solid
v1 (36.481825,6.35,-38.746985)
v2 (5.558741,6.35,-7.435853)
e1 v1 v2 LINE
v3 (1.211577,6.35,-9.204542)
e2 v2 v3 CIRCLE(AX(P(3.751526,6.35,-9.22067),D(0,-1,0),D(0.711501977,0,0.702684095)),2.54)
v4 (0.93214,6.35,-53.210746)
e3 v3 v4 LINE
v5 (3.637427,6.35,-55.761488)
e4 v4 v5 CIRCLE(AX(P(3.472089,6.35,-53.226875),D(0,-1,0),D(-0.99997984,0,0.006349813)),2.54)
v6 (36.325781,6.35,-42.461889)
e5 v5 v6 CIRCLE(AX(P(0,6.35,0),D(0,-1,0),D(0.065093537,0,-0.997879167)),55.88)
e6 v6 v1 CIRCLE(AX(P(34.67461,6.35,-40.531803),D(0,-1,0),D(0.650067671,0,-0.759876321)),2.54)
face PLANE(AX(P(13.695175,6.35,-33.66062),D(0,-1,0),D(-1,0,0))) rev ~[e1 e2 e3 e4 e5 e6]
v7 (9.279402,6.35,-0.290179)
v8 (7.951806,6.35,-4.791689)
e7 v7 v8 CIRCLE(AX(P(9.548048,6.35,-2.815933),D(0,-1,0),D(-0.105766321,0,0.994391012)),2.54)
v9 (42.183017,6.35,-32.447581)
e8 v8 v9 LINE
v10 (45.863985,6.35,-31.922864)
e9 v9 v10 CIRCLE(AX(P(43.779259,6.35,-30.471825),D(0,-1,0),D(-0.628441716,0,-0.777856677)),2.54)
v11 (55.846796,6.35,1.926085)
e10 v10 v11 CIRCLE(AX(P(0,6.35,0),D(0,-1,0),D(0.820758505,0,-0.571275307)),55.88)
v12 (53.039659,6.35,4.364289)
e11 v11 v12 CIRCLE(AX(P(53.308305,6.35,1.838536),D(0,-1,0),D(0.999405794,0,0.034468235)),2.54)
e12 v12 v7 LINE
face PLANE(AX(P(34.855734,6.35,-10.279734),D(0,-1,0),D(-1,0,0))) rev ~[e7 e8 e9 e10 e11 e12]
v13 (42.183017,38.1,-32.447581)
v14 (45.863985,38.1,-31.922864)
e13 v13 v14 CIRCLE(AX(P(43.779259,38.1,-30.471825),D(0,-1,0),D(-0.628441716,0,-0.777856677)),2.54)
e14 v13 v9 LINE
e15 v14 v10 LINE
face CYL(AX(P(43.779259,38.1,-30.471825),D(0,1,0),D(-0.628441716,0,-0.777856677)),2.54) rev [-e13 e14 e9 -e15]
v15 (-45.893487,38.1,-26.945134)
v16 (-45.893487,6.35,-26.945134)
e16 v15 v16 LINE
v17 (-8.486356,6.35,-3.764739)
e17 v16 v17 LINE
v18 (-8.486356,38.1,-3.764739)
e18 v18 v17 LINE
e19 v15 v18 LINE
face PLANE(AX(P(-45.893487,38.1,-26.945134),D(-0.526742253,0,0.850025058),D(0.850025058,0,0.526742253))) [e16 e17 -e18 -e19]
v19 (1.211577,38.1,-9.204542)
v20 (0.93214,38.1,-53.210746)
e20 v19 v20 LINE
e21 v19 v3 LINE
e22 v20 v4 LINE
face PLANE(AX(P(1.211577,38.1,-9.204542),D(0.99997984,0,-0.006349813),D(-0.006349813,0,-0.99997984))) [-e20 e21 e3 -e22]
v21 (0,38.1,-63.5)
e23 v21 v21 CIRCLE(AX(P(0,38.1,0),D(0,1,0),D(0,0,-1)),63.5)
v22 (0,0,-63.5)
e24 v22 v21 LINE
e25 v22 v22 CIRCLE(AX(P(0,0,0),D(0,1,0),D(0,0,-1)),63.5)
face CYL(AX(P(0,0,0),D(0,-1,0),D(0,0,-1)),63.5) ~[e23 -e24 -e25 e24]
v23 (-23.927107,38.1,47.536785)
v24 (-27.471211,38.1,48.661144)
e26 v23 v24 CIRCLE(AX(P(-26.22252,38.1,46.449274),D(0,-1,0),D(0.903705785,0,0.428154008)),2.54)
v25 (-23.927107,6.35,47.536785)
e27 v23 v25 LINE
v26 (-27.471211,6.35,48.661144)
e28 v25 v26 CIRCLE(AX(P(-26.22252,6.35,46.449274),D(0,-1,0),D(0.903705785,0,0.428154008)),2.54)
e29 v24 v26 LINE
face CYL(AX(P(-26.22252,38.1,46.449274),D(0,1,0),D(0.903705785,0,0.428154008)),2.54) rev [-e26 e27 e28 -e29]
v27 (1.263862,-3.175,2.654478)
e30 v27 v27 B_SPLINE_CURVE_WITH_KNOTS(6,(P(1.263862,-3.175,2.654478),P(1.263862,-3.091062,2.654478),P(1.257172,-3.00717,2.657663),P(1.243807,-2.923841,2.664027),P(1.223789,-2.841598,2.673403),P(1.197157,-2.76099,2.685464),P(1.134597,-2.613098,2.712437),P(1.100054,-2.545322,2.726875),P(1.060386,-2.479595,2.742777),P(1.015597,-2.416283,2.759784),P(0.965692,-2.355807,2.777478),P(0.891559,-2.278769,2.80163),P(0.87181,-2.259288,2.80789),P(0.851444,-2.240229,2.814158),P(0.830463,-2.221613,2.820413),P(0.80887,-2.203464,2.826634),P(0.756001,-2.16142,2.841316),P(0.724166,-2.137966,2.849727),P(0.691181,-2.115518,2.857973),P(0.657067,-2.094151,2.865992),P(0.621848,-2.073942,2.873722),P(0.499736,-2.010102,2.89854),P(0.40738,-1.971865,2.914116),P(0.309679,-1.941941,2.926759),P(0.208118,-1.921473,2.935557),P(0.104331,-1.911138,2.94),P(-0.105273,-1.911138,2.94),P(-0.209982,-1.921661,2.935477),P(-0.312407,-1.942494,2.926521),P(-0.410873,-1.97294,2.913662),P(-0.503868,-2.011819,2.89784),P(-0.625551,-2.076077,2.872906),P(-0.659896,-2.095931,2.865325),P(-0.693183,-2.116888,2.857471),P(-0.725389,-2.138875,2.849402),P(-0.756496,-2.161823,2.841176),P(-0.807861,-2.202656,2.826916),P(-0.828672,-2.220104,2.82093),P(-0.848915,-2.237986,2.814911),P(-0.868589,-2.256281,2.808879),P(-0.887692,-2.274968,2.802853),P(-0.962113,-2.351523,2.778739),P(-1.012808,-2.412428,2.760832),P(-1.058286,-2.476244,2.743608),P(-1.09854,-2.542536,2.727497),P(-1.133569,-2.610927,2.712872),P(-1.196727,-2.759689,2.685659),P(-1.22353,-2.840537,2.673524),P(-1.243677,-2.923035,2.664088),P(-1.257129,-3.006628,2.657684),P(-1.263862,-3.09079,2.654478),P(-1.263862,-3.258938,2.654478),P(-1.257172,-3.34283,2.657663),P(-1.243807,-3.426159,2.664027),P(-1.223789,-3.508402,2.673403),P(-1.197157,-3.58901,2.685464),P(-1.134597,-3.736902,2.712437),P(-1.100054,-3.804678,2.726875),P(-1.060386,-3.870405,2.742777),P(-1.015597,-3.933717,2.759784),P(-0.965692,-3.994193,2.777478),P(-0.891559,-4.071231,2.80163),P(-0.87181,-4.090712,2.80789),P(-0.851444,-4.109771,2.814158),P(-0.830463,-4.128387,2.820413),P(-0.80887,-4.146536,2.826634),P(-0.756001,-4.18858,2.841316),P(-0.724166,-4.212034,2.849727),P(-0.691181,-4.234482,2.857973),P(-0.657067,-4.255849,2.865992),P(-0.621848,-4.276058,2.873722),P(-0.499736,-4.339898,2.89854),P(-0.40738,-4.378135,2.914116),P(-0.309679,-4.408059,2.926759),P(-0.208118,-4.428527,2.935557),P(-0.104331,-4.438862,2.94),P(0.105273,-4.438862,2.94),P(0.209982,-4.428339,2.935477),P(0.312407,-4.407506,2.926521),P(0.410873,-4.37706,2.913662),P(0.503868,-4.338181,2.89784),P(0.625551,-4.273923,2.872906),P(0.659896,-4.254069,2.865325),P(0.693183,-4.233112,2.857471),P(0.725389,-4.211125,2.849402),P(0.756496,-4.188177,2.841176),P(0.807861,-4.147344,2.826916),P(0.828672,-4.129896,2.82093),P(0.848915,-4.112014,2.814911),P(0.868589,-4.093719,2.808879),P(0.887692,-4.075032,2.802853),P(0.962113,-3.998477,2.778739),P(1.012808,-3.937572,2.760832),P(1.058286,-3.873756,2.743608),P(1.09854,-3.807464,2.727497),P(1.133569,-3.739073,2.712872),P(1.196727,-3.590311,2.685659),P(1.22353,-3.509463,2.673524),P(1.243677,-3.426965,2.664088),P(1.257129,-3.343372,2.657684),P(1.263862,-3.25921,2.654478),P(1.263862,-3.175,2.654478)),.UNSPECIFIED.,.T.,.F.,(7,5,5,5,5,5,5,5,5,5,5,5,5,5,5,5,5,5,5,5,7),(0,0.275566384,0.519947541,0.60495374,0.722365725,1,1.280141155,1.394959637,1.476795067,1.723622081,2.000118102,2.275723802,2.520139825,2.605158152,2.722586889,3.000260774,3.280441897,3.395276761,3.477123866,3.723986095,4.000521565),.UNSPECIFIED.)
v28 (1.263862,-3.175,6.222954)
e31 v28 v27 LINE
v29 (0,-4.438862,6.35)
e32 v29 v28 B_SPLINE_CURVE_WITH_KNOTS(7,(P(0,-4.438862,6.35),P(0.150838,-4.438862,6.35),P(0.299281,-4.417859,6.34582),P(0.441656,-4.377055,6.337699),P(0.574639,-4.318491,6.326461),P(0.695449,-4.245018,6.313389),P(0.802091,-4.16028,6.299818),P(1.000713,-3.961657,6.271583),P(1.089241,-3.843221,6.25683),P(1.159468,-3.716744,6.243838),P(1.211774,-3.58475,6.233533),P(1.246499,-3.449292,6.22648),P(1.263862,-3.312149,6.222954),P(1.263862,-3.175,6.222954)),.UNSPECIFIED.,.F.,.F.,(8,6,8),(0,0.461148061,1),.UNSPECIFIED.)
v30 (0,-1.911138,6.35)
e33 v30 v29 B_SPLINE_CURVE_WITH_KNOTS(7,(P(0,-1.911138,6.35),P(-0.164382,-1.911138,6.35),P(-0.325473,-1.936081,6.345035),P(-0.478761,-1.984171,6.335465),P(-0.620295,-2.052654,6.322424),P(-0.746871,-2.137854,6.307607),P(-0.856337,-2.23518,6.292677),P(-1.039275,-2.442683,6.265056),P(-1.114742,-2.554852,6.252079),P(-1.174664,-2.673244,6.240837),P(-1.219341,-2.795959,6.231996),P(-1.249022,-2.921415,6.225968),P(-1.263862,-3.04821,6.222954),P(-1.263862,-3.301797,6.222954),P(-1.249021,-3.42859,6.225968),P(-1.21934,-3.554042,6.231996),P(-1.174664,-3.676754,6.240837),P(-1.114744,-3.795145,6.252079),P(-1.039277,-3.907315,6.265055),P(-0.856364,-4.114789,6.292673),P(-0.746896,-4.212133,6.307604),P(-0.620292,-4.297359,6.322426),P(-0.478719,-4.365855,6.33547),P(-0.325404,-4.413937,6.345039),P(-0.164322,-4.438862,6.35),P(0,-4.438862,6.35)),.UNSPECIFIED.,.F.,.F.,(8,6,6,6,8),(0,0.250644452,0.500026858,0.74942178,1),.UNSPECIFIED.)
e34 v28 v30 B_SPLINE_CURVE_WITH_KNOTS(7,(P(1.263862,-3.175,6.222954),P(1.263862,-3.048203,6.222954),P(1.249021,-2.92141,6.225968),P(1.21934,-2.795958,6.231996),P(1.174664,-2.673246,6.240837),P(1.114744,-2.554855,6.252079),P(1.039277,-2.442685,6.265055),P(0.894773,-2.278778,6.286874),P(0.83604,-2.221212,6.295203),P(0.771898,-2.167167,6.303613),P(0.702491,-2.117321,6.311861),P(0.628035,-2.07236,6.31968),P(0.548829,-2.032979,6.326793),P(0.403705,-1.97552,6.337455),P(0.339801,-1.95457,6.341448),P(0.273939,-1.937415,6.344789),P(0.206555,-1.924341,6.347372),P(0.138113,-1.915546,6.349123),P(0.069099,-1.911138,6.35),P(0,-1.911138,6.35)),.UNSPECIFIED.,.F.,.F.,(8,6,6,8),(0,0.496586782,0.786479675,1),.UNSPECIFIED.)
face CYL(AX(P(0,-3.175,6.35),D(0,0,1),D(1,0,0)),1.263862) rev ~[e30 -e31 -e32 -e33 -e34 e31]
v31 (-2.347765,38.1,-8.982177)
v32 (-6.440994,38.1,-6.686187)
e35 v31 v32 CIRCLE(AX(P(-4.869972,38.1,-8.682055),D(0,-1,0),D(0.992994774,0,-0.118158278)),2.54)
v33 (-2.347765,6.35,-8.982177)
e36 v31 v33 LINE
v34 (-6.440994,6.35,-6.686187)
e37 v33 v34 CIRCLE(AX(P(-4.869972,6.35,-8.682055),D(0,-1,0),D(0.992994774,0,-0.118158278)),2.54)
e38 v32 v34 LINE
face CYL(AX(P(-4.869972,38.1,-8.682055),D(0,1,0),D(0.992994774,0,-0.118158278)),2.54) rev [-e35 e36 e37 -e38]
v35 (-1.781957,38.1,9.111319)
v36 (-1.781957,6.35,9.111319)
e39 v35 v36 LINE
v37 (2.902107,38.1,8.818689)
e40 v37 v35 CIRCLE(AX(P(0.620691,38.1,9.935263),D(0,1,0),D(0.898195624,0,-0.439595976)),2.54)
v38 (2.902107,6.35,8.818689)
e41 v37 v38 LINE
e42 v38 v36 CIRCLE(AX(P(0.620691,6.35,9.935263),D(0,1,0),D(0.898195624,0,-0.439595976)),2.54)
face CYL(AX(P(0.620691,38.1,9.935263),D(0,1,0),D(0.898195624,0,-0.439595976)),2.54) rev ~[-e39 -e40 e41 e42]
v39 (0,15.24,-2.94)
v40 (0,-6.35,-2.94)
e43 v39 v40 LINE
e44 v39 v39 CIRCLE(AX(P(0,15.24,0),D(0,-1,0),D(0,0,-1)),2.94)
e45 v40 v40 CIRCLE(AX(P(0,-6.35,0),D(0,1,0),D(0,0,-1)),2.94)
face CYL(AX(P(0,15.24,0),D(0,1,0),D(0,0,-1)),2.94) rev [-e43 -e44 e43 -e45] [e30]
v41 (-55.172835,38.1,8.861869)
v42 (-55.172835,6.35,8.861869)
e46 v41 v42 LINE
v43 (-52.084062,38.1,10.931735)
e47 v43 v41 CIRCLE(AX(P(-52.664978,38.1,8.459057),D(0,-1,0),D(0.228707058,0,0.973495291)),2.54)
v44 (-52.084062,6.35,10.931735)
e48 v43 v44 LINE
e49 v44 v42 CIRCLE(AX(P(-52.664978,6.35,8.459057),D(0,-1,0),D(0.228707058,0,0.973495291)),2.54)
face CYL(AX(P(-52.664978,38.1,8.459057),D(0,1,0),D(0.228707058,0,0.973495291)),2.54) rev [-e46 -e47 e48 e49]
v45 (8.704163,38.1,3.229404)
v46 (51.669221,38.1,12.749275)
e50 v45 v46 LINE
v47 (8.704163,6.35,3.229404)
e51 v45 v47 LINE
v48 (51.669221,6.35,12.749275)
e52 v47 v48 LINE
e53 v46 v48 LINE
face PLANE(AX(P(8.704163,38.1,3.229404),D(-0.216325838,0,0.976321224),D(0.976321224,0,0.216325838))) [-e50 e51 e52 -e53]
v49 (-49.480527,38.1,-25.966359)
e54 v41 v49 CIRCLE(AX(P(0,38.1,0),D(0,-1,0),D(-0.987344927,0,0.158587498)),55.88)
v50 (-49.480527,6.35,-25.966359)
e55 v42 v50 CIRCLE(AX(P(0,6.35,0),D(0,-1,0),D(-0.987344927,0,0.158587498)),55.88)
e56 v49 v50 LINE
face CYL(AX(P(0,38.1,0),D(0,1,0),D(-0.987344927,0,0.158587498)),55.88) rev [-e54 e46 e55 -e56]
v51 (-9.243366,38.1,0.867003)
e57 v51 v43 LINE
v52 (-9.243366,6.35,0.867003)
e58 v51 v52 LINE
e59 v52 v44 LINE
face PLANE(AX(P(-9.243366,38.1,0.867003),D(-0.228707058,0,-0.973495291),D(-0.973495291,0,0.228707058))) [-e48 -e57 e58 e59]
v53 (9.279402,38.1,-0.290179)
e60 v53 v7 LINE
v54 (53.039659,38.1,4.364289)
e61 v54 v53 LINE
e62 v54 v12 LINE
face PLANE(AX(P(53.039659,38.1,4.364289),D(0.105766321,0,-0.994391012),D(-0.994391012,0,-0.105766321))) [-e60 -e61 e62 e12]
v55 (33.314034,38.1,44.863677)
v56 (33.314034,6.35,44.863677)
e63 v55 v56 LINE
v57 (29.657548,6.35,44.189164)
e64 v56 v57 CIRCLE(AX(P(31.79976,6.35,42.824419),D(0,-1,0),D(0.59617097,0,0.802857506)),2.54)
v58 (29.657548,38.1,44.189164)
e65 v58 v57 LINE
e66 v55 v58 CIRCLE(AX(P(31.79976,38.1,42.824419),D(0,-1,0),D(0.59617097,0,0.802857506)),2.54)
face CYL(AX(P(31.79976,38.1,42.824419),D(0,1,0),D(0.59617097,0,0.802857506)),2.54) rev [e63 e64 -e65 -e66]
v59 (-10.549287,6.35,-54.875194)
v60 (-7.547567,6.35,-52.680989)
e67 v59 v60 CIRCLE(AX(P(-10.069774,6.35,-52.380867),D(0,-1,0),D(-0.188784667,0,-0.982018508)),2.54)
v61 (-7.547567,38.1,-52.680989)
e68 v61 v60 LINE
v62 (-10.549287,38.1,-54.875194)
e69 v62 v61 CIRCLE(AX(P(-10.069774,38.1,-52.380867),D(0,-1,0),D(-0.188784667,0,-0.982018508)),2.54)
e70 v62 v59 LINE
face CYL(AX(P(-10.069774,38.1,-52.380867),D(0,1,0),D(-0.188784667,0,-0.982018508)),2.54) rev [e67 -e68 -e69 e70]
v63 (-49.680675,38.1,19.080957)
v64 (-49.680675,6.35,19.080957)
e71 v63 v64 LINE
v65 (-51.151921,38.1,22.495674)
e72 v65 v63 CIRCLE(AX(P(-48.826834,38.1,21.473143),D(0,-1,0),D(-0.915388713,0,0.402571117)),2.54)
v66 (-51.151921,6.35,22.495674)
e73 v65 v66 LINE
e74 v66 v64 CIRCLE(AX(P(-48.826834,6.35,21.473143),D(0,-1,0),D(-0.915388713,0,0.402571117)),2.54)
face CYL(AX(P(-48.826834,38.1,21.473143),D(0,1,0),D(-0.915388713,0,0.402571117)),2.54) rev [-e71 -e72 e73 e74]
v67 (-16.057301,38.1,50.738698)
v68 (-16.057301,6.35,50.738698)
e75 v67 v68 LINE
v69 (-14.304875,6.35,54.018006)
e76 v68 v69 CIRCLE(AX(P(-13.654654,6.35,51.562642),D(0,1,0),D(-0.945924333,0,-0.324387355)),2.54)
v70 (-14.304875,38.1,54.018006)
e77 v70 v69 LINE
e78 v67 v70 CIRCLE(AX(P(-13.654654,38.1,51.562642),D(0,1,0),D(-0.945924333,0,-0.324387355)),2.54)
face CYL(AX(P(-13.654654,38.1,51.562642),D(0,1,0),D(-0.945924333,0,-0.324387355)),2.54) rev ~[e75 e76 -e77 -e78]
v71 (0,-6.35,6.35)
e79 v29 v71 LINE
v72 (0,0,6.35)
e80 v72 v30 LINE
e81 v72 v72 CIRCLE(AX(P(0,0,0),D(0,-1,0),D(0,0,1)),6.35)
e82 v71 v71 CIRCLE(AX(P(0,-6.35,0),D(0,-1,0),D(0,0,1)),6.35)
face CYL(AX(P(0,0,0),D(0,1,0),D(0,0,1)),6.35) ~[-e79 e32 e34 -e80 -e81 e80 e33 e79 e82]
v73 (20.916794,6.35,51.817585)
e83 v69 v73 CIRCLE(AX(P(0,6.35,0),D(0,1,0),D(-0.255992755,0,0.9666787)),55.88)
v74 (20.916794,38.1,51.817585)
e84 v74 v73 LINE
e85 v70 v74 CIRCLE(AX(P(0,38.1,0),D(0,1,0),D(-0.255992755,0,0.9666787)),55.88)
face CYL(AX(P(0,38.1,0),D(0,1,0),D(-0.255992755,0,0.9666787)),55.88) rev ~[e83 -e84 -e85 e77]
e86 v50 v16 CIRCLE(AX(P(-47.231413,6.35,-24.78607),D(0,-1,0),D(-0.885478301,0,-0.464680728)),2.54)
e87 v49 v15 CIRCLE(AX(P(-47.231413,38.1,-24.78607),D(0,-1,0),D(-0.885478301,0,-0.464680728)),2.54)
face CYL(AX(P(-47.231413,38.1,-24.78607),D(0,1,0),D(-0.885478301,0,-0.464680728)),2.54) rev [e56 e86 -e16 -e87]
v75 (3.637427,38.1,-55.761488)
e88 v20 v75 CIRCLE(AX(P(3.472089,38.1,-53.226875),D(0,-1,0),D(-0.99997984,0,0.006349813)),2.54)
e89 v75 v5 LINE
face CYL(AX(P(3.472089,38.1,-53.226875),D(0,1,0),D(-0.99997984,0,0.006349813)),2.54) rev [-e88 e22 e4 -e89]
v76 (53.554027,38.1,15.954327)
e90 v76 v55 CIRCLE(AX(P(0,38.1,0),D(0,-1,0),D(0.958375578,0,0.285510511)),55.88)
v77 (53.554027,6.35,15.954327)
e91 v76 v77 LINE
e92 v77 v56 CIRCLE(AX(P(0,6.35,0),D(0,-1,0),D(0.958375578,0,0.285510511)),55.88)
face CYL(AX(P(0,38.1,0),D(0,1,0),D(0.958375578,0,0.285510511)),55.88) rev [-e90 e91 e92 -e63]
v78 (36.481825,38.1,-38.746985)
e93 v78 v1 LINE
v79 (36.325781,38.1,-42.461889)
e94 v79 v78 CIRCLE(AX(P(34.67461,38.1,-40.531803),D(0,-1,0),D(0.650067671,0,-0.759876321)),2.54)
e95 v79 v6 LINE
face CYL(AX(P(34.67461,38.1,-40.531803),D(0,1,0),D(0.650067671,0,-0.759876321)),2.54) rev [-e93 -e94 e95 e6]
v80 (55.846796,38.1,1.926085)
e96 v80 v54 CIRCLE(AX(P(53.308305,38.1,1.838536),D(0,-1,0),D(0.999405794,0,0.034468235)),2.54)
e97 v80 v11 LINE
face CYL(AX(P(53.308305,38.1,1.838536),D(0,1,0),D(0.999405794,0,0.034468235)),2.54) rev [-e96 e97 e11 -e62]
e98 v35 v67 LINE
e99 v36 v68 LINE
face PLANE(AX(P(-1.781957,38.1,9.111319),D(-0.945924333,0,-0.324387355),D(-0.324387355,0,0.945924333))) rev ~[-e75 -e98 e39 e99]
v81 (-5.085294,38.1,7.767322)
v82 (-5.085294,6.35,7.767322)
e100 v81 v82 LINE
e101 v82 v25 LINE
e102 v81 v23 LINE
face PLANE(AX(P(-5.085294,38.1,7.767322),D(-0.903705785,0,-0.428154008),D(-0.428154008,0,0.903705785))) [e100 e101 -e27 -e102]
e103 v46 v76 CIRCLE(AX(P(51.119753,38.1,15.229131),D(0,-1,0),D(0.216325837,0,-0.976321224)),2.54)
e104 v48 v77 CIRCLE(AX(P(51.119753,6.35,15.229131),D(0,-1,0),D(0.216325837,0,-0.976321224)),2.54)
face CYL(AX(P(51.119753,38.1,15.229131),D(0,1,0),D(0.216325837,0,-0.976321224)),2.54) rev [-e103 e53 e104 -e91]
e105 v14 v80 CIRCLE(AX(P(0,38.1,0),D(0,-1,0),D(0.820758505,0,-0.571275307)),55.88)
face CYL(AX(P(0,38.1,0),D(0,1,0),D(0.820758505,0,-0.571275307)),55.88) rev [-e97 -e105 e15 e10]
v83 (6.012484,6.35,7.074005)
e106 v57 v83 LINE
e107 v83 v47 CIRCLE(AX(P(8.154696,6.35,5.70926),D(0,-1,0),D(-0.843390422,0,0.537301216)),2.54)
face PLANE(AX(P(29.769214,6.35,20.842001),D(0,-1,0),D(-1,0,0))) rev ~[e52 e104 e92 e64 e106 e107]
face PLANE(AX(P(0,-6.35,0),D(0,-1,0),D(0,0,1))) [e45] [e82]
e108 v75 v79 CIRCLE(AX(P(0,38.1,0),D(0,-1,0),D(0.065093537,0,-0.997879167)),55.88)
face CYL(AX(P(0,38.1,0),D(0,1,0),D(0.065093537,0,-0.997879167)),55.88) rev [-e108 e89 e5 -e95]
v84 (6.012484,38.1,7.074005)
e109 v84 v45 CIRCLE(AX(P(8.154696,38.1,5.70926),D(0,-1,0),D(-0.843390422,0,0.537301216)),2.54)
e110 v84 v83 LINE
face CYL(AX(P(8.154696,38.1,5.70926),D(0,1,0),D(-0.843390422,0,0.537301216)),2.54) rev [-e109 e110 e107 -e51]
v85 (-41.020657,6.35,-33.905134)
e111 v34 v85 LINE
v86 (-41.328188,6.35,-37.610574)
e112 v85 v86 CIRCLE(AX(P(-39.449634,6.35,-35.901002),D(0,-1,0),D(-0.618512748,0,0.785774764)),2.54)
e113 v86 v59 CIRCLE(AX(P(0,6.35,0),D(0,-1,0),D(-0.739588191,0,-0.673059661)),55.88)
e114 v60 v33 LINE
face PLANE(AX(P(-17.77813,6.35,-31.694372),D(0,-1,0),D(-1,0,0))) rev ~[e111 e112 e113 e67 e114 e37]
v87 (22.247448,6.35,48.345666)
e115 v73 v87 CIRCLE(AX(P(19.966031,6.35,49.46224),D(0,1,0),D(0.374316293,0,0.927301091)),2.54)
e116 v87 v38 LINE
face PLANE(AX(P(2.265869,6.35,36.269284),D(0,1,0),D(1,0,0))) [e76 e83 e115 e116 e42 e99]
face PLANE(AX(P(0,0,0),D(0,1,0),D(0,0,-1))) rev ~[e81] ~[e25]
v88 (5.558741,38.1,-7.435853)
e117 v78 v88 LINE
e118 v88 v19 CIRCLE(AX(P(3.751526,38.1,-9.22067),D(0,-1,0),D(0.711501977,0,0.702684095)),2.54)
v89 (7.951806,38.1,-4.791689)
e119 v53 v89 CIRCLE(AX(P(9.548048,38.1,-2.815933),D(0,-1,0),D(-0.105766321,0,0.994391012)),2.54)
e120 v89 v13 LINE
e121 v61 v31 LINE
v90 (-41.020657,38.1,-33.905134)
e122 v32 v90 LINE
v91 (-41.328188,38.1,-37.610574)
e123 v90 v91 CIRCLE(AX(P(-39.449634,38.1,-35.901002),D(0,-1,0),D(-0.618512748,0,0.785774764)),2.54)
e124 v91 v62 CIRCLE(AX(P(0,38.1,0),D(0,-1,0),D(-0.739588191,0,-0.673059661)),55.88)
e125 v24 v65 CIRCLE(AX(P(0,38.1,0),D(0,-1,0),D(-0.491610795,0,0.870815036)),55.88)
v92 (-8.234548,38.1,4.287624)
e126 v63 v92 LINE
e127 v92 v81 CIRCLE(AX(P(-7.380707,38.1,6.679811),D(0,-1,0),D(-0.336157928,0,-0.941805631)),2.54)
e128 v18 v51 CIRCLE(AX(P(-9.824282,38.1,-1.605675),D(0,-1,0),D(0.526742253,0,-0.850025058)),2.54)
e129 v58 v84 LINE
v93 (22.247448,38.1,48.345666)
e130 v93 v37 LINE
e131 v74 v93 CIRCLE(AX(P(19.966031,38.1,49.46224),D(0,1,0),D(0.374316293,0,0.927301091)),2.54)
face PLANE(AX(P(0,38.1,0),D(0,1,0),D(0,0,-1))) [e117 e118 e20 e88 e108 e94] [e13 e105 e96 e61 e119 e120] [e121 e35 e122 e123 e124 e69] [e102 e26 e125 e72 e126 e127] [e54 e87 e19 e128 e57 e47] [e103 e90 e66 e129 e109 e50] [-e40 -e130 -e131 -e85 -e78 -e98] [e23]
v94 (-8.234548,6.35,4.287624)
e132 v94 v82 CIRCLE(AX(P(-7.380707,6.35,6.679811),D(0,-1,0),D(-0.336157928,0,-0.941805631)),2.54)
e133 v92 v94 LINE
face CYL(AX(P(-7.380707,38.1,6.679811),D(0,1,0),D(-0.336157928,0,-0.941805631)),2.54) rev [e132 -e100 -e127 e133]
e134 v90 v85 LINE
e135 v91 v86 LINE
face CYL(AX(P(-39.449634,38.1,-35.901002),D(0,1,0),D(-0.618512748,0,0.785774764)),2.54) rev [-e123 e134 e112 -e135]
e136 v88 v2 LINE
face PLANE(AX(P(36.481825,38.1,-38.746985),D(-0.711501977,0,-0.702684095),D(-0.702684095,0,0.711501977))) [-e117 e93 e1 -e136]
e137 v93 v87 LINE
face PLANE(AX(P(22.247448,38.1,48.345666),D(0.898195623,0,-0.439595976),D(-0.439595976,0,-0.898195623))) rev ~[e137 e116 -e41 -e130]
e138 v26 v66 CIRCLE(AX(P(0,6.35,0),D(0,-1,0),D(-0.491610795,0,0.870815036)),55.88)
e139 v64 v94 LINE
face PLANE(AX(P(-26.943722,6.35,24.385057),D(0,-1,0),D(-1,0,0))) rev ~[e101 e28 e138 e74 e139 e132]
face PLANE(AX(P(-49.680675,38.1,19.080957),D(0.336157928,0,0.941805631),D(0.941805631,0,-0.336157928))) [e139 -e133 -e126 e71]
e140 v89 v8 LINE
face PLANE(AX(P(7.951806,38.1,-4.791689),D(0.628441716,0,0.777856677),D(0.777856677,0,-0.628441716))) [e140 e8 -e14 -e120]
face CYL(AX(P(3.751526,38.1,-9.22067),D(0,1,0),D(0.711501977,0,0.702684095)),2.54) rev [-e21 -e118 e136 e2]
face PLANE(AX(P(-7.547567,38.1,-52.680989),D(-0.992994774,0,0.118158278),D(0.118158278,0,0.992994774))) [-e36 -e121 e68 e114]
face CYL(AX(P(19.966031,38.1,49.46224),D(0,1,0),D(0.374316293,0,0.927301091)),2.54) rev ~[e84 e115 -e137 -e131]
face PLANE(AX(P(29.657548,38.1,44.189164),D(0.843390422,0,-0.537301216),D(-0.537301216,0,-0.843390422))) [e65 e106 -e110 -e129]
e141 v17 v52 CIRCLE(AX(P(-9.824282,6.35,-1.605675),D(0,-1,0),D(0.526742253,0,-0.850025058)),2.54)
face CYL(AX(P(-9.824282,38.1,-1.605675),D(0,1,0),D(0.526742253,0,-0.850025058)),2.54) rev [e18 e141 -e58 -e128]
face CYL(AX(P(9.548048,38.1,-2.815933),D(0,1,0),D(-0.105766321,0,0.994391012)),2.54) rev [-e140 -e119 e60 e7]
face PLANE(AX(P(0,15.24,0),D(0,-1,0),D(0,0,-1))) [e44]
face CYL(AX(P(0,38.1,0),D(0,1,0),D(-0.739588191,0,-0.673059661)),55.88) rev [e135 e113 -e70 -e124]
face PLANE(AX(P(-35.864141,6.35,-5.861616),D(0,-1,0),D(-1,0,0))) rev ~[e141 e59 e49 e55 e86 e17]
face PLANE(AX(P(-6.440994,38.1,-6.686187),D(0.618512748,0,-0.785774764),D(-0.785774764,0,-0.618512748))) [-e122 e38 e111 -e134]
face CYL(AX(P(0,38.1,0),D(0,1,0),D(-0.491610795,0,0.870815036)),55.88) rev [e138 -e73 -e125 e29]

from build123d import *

# Parameters (mm, degrees)
SKETCH1_R               = 63.5
BOSS_EXTRUDE1_DEPTH     = 38.1
CUT_EXTRUDE2_DEPTH      = 31.75
SKETCH4_R               = 6.35
BOSS_EXTRUDE2_DEPTH     = 6.35
CUT_EXTRUDE3_DEPTH      = 98.550550998
CUT_EXTRUDE3_DEPTH_BACK = 15.24
SKETCH3_R               = 2.94
CUT_EXTRUDE4_REACH      = 103.798
CUT_EXTRUDE4_END_RADIUS = 2.94
SKETCH5_R               = 1.263861724


with BuildPart() as part:
    # Sketch1 → Boss-Extrude1 (new body)
    with BuildSketch(Plane(origin=(0, 0, 0), x_dir=(1, 0, 0), z_dir=(0, 1, 0))):
        with Locations(Location((0, 0, 0), (0, 0, 90))):
            Circle(SKETCH1_R)
    extrude(amount=BOSS_EXTRUDE1_DEPTH)

    # Sketch2 → Cut-Extrude2 (cut)
    with BuildSketch(Plane(origin=(0, 38.1, 0), x_dir=(1, 0, 0), z_dir=(0, 1, 0))):
        with BuildLine():
            Line((-1.7819572, -9.111319007), (-16.057301334, -50.738697991))
            ThreePointArc((-16.057301334, -50.738697991), (-15.89484722, -52.75977688), (-14.304875125, -54.018005773))
            ThreePointArc((-14.304875125, -54.018005773), (3.484226214, -55.771270092), (20.916794468, -51.817584942))
            ThreePointArc((20.916794468, -51.817584942), (22.337802979, -50.371249564), (22.247447967, -48.345666393))
            Line((22.247447967, -48.345666393), (2.902107489, -8.818689111))
            ThreePointArc((2.902107489, -8.818689111), (0.462316687, -7.400205158), (-1.7819572, -9.111319007))
        make_face()
        with BuildLine():
            Line((8.704163204, -3.229403726), (51.669220951, -12.749274735))
            ThreePointArc((51.669220951, -12.749274735), (53.309221074, -13.941562792), (53.554027291, -15.954327341))
            ThreePointArc((53.554027291, -15.954327341), (45.776114287, -32.048740393), (33.314033776, -44.863677441))
            ThreePointArc((33.314033776, -44.863677441), (31.338979429, -45.322274799), (29.657547842, -44.189164464))
            Line((29.657547842, -44.189164464), (6.012483905, -7.074004722))
            ThreePointArc((6.012483905, -7.074004722), (6.073963109, -4.252498707), (8.704163204, -3.229403726))
        make_face()
        with BuildLine():
            Line((7.951806494, 4.791688532), (42.1830167, 32.447580836))
            ThreePointArc((42.1830167, 32.447580836), (44.13770839, 32.986405118), (45.863985261, 31.922864157))
            ThreePointArc((45.863985261, 31.922864157), (53.597654639, 15.807144497), (55.846795761, -1.926084944))
            ThreePointArc((55.846795761, -1.926084944), (54.973915369, -3.756175388), (53.039658589, -4.3642888))
            Line((53.039658589, -4.3642888), (9.279401997, 0.290179402))
            ThreePointArc((9.279401997, 0.290179402), (7.111791423, 2.097426005), (7.951806494, 4.791688532))
        make_face()
        with BuildLine():
            Line((1.211577307, 9.204541593), (0.932140496, 53.210746228))
            ThreePointArc((0.932140496, 53.210746228), (1.729601044, 55.074937175), (3.637426875, 55.761487836))
            ThreePointArc((3.637426875, 55.761487836), (21.059067856, 51.759927174), (36.325781471, 42.461888801))
            ThreePointArc((36.325781471, 42.461888801), (37.212371773, 40.638400701), (36.481824607, 38.746985345))
            Line((36.481824607, 38.746985345), (5.55874112, 7.435852518))
            ThreePointArc((5.55874112, 7.435852518), (2.794295742, 6.867946156), (1.211577307, 9.204541593))
        make_face()
        with BuildLine():
            Line((-6.440994304, 6.686187096), (-41.020656513, 33.905134408))
            ThreePointArc((-41.020656513, 33.905134408), (-41.980931166, 35.690918215), (-41.328188139, 37.610573848))
            ThreePointArc((-41.328188139, 37.610573848), (-27.33742655, 48.736428979), (-10.549287178, 54.875194214))
            ThreePointArc((-10.549287178, 54.875194214), (-8.570846762, 54.431432191), (-7.547567398, 52.680989231))
            Line((-7.547567398, 52.680989231), (-2.347765198, 8.982177024))
            ThreePointArc((-2.347765198, 8.982177024), (-3.627361626, 6.466762771), (-6.440994304, 6.686187096))
        make_face()
        with BuildLine():
            Line((-9.243365832, -0.867002658), (-52.084062499, -10.931735159))
            ThreePointArc((-52.084062499, -10.931735159), (-54.078965953, -10.569090123), (-55.172834542, -8.861869364))
            ThreePointArc((-55.172834542, -8.861869364), (-55.148281182, 9.013405721), (-49.480527415, 25.966359134))
            ThreePointArc((-49.480527415, 25.966359134), (-47.900042872, 27.236485042), (-45.89348721, 26.94513373))
            Line((-45.89348721, 26.94513373), (-8.486356436, 3.764739028))
            ThreePointArc((-8.486356436, 3.764739028), (-7.317541705, 1.195975121), (-9.243365832, -0.867002658))
        make_face()
        with BuildLine():
            Line((-5.085294358, -7.767321727), (-23.927107102, -47.536785185))
            ThreePointArc((-23.927107102, -47.536785185), (-25.454436367, -48.870358028), (-27.471211214, -48.661144195))
            ThreePointArc((-27.471211214, -48.661144195), (-41.431355264, -37.496895885), (-51.15192129, -22.495673991))
            ThreePointArc((-51.15192129, -22.495673991), (-51.159529717, -20.468090867), (-49.680675096, -19.080957051))
            Line((-49.680675096, -19.080957051), (-8.234548188, -4.287624243))
            ThreePointArc((-8.234548188, -4.287624243), (-5.49746363, -4.975406188), (-5.085294358, -7.767321727))
        make_face()
    extrude(amount=-CUT_EXTRUDE2_DEPTH, mode=Mode.SUBTRACT)

    # Sketch4 → Boss-Extrude2 (add)
    with BuildSketch(Plane.XZ):
        with Locations(Location((0, 0, 0), (0, 0, 90))):
            Circle(SKETCH4_R)
    extrude(amount=BOSS_EXTRUDE2_DEPTH)

    # Sketch3 → Cut-Extrude3 (cut, two sides: drawn at the far end of the back side and taken through both)
    with BuildSketch(Plane.XZ.offset(-CUT_EXTRUDE3_DEPTH_BACK)):
        with Locations(Location((0, 0, 0), (0, 0, 270))):
            Circle(SKETCH3_R)
    extrude(amount=CUT_EXTRUDE3_DEPTH + CUT_EXTRUDE3_DEPTH_BACK, mode=Mode.SUBTRACT)

    # Cut-Extrude4: up to this cylinder (the profile starts outside it)
    cut_extrude4_end = Plane(origin=(0, -3.175, 0), z_dir=(0, 1, 0)) * Cylinder(CUT_EXTRUDE4_END_RADIUS, 214.476, mode=Mode.PRIVATE)
    # Sketch5 → Cut-Extrude4 (cut, up to the surface)
    with BuildSketch(Plane.XY.offset(6.35), mode=Mode.PRIVATE) as cut_extrude4_sk1:
        with Locations((0, -3.175)):
            Circle(SKETCH5_R)
    cut_extrude4_tool1 = extrude(cut_extrude4_sk1.sketch, amount=-CUT_EXTRUDE4_REACH, mode=Mode.PRIVATE) - cut_extrude4_end
    add(cut_extrude4_tool1.solids().sort_by_distance((0, -3.175, 6.35))[0], mode=Mode.SUBTRACT)


solid = part.part
